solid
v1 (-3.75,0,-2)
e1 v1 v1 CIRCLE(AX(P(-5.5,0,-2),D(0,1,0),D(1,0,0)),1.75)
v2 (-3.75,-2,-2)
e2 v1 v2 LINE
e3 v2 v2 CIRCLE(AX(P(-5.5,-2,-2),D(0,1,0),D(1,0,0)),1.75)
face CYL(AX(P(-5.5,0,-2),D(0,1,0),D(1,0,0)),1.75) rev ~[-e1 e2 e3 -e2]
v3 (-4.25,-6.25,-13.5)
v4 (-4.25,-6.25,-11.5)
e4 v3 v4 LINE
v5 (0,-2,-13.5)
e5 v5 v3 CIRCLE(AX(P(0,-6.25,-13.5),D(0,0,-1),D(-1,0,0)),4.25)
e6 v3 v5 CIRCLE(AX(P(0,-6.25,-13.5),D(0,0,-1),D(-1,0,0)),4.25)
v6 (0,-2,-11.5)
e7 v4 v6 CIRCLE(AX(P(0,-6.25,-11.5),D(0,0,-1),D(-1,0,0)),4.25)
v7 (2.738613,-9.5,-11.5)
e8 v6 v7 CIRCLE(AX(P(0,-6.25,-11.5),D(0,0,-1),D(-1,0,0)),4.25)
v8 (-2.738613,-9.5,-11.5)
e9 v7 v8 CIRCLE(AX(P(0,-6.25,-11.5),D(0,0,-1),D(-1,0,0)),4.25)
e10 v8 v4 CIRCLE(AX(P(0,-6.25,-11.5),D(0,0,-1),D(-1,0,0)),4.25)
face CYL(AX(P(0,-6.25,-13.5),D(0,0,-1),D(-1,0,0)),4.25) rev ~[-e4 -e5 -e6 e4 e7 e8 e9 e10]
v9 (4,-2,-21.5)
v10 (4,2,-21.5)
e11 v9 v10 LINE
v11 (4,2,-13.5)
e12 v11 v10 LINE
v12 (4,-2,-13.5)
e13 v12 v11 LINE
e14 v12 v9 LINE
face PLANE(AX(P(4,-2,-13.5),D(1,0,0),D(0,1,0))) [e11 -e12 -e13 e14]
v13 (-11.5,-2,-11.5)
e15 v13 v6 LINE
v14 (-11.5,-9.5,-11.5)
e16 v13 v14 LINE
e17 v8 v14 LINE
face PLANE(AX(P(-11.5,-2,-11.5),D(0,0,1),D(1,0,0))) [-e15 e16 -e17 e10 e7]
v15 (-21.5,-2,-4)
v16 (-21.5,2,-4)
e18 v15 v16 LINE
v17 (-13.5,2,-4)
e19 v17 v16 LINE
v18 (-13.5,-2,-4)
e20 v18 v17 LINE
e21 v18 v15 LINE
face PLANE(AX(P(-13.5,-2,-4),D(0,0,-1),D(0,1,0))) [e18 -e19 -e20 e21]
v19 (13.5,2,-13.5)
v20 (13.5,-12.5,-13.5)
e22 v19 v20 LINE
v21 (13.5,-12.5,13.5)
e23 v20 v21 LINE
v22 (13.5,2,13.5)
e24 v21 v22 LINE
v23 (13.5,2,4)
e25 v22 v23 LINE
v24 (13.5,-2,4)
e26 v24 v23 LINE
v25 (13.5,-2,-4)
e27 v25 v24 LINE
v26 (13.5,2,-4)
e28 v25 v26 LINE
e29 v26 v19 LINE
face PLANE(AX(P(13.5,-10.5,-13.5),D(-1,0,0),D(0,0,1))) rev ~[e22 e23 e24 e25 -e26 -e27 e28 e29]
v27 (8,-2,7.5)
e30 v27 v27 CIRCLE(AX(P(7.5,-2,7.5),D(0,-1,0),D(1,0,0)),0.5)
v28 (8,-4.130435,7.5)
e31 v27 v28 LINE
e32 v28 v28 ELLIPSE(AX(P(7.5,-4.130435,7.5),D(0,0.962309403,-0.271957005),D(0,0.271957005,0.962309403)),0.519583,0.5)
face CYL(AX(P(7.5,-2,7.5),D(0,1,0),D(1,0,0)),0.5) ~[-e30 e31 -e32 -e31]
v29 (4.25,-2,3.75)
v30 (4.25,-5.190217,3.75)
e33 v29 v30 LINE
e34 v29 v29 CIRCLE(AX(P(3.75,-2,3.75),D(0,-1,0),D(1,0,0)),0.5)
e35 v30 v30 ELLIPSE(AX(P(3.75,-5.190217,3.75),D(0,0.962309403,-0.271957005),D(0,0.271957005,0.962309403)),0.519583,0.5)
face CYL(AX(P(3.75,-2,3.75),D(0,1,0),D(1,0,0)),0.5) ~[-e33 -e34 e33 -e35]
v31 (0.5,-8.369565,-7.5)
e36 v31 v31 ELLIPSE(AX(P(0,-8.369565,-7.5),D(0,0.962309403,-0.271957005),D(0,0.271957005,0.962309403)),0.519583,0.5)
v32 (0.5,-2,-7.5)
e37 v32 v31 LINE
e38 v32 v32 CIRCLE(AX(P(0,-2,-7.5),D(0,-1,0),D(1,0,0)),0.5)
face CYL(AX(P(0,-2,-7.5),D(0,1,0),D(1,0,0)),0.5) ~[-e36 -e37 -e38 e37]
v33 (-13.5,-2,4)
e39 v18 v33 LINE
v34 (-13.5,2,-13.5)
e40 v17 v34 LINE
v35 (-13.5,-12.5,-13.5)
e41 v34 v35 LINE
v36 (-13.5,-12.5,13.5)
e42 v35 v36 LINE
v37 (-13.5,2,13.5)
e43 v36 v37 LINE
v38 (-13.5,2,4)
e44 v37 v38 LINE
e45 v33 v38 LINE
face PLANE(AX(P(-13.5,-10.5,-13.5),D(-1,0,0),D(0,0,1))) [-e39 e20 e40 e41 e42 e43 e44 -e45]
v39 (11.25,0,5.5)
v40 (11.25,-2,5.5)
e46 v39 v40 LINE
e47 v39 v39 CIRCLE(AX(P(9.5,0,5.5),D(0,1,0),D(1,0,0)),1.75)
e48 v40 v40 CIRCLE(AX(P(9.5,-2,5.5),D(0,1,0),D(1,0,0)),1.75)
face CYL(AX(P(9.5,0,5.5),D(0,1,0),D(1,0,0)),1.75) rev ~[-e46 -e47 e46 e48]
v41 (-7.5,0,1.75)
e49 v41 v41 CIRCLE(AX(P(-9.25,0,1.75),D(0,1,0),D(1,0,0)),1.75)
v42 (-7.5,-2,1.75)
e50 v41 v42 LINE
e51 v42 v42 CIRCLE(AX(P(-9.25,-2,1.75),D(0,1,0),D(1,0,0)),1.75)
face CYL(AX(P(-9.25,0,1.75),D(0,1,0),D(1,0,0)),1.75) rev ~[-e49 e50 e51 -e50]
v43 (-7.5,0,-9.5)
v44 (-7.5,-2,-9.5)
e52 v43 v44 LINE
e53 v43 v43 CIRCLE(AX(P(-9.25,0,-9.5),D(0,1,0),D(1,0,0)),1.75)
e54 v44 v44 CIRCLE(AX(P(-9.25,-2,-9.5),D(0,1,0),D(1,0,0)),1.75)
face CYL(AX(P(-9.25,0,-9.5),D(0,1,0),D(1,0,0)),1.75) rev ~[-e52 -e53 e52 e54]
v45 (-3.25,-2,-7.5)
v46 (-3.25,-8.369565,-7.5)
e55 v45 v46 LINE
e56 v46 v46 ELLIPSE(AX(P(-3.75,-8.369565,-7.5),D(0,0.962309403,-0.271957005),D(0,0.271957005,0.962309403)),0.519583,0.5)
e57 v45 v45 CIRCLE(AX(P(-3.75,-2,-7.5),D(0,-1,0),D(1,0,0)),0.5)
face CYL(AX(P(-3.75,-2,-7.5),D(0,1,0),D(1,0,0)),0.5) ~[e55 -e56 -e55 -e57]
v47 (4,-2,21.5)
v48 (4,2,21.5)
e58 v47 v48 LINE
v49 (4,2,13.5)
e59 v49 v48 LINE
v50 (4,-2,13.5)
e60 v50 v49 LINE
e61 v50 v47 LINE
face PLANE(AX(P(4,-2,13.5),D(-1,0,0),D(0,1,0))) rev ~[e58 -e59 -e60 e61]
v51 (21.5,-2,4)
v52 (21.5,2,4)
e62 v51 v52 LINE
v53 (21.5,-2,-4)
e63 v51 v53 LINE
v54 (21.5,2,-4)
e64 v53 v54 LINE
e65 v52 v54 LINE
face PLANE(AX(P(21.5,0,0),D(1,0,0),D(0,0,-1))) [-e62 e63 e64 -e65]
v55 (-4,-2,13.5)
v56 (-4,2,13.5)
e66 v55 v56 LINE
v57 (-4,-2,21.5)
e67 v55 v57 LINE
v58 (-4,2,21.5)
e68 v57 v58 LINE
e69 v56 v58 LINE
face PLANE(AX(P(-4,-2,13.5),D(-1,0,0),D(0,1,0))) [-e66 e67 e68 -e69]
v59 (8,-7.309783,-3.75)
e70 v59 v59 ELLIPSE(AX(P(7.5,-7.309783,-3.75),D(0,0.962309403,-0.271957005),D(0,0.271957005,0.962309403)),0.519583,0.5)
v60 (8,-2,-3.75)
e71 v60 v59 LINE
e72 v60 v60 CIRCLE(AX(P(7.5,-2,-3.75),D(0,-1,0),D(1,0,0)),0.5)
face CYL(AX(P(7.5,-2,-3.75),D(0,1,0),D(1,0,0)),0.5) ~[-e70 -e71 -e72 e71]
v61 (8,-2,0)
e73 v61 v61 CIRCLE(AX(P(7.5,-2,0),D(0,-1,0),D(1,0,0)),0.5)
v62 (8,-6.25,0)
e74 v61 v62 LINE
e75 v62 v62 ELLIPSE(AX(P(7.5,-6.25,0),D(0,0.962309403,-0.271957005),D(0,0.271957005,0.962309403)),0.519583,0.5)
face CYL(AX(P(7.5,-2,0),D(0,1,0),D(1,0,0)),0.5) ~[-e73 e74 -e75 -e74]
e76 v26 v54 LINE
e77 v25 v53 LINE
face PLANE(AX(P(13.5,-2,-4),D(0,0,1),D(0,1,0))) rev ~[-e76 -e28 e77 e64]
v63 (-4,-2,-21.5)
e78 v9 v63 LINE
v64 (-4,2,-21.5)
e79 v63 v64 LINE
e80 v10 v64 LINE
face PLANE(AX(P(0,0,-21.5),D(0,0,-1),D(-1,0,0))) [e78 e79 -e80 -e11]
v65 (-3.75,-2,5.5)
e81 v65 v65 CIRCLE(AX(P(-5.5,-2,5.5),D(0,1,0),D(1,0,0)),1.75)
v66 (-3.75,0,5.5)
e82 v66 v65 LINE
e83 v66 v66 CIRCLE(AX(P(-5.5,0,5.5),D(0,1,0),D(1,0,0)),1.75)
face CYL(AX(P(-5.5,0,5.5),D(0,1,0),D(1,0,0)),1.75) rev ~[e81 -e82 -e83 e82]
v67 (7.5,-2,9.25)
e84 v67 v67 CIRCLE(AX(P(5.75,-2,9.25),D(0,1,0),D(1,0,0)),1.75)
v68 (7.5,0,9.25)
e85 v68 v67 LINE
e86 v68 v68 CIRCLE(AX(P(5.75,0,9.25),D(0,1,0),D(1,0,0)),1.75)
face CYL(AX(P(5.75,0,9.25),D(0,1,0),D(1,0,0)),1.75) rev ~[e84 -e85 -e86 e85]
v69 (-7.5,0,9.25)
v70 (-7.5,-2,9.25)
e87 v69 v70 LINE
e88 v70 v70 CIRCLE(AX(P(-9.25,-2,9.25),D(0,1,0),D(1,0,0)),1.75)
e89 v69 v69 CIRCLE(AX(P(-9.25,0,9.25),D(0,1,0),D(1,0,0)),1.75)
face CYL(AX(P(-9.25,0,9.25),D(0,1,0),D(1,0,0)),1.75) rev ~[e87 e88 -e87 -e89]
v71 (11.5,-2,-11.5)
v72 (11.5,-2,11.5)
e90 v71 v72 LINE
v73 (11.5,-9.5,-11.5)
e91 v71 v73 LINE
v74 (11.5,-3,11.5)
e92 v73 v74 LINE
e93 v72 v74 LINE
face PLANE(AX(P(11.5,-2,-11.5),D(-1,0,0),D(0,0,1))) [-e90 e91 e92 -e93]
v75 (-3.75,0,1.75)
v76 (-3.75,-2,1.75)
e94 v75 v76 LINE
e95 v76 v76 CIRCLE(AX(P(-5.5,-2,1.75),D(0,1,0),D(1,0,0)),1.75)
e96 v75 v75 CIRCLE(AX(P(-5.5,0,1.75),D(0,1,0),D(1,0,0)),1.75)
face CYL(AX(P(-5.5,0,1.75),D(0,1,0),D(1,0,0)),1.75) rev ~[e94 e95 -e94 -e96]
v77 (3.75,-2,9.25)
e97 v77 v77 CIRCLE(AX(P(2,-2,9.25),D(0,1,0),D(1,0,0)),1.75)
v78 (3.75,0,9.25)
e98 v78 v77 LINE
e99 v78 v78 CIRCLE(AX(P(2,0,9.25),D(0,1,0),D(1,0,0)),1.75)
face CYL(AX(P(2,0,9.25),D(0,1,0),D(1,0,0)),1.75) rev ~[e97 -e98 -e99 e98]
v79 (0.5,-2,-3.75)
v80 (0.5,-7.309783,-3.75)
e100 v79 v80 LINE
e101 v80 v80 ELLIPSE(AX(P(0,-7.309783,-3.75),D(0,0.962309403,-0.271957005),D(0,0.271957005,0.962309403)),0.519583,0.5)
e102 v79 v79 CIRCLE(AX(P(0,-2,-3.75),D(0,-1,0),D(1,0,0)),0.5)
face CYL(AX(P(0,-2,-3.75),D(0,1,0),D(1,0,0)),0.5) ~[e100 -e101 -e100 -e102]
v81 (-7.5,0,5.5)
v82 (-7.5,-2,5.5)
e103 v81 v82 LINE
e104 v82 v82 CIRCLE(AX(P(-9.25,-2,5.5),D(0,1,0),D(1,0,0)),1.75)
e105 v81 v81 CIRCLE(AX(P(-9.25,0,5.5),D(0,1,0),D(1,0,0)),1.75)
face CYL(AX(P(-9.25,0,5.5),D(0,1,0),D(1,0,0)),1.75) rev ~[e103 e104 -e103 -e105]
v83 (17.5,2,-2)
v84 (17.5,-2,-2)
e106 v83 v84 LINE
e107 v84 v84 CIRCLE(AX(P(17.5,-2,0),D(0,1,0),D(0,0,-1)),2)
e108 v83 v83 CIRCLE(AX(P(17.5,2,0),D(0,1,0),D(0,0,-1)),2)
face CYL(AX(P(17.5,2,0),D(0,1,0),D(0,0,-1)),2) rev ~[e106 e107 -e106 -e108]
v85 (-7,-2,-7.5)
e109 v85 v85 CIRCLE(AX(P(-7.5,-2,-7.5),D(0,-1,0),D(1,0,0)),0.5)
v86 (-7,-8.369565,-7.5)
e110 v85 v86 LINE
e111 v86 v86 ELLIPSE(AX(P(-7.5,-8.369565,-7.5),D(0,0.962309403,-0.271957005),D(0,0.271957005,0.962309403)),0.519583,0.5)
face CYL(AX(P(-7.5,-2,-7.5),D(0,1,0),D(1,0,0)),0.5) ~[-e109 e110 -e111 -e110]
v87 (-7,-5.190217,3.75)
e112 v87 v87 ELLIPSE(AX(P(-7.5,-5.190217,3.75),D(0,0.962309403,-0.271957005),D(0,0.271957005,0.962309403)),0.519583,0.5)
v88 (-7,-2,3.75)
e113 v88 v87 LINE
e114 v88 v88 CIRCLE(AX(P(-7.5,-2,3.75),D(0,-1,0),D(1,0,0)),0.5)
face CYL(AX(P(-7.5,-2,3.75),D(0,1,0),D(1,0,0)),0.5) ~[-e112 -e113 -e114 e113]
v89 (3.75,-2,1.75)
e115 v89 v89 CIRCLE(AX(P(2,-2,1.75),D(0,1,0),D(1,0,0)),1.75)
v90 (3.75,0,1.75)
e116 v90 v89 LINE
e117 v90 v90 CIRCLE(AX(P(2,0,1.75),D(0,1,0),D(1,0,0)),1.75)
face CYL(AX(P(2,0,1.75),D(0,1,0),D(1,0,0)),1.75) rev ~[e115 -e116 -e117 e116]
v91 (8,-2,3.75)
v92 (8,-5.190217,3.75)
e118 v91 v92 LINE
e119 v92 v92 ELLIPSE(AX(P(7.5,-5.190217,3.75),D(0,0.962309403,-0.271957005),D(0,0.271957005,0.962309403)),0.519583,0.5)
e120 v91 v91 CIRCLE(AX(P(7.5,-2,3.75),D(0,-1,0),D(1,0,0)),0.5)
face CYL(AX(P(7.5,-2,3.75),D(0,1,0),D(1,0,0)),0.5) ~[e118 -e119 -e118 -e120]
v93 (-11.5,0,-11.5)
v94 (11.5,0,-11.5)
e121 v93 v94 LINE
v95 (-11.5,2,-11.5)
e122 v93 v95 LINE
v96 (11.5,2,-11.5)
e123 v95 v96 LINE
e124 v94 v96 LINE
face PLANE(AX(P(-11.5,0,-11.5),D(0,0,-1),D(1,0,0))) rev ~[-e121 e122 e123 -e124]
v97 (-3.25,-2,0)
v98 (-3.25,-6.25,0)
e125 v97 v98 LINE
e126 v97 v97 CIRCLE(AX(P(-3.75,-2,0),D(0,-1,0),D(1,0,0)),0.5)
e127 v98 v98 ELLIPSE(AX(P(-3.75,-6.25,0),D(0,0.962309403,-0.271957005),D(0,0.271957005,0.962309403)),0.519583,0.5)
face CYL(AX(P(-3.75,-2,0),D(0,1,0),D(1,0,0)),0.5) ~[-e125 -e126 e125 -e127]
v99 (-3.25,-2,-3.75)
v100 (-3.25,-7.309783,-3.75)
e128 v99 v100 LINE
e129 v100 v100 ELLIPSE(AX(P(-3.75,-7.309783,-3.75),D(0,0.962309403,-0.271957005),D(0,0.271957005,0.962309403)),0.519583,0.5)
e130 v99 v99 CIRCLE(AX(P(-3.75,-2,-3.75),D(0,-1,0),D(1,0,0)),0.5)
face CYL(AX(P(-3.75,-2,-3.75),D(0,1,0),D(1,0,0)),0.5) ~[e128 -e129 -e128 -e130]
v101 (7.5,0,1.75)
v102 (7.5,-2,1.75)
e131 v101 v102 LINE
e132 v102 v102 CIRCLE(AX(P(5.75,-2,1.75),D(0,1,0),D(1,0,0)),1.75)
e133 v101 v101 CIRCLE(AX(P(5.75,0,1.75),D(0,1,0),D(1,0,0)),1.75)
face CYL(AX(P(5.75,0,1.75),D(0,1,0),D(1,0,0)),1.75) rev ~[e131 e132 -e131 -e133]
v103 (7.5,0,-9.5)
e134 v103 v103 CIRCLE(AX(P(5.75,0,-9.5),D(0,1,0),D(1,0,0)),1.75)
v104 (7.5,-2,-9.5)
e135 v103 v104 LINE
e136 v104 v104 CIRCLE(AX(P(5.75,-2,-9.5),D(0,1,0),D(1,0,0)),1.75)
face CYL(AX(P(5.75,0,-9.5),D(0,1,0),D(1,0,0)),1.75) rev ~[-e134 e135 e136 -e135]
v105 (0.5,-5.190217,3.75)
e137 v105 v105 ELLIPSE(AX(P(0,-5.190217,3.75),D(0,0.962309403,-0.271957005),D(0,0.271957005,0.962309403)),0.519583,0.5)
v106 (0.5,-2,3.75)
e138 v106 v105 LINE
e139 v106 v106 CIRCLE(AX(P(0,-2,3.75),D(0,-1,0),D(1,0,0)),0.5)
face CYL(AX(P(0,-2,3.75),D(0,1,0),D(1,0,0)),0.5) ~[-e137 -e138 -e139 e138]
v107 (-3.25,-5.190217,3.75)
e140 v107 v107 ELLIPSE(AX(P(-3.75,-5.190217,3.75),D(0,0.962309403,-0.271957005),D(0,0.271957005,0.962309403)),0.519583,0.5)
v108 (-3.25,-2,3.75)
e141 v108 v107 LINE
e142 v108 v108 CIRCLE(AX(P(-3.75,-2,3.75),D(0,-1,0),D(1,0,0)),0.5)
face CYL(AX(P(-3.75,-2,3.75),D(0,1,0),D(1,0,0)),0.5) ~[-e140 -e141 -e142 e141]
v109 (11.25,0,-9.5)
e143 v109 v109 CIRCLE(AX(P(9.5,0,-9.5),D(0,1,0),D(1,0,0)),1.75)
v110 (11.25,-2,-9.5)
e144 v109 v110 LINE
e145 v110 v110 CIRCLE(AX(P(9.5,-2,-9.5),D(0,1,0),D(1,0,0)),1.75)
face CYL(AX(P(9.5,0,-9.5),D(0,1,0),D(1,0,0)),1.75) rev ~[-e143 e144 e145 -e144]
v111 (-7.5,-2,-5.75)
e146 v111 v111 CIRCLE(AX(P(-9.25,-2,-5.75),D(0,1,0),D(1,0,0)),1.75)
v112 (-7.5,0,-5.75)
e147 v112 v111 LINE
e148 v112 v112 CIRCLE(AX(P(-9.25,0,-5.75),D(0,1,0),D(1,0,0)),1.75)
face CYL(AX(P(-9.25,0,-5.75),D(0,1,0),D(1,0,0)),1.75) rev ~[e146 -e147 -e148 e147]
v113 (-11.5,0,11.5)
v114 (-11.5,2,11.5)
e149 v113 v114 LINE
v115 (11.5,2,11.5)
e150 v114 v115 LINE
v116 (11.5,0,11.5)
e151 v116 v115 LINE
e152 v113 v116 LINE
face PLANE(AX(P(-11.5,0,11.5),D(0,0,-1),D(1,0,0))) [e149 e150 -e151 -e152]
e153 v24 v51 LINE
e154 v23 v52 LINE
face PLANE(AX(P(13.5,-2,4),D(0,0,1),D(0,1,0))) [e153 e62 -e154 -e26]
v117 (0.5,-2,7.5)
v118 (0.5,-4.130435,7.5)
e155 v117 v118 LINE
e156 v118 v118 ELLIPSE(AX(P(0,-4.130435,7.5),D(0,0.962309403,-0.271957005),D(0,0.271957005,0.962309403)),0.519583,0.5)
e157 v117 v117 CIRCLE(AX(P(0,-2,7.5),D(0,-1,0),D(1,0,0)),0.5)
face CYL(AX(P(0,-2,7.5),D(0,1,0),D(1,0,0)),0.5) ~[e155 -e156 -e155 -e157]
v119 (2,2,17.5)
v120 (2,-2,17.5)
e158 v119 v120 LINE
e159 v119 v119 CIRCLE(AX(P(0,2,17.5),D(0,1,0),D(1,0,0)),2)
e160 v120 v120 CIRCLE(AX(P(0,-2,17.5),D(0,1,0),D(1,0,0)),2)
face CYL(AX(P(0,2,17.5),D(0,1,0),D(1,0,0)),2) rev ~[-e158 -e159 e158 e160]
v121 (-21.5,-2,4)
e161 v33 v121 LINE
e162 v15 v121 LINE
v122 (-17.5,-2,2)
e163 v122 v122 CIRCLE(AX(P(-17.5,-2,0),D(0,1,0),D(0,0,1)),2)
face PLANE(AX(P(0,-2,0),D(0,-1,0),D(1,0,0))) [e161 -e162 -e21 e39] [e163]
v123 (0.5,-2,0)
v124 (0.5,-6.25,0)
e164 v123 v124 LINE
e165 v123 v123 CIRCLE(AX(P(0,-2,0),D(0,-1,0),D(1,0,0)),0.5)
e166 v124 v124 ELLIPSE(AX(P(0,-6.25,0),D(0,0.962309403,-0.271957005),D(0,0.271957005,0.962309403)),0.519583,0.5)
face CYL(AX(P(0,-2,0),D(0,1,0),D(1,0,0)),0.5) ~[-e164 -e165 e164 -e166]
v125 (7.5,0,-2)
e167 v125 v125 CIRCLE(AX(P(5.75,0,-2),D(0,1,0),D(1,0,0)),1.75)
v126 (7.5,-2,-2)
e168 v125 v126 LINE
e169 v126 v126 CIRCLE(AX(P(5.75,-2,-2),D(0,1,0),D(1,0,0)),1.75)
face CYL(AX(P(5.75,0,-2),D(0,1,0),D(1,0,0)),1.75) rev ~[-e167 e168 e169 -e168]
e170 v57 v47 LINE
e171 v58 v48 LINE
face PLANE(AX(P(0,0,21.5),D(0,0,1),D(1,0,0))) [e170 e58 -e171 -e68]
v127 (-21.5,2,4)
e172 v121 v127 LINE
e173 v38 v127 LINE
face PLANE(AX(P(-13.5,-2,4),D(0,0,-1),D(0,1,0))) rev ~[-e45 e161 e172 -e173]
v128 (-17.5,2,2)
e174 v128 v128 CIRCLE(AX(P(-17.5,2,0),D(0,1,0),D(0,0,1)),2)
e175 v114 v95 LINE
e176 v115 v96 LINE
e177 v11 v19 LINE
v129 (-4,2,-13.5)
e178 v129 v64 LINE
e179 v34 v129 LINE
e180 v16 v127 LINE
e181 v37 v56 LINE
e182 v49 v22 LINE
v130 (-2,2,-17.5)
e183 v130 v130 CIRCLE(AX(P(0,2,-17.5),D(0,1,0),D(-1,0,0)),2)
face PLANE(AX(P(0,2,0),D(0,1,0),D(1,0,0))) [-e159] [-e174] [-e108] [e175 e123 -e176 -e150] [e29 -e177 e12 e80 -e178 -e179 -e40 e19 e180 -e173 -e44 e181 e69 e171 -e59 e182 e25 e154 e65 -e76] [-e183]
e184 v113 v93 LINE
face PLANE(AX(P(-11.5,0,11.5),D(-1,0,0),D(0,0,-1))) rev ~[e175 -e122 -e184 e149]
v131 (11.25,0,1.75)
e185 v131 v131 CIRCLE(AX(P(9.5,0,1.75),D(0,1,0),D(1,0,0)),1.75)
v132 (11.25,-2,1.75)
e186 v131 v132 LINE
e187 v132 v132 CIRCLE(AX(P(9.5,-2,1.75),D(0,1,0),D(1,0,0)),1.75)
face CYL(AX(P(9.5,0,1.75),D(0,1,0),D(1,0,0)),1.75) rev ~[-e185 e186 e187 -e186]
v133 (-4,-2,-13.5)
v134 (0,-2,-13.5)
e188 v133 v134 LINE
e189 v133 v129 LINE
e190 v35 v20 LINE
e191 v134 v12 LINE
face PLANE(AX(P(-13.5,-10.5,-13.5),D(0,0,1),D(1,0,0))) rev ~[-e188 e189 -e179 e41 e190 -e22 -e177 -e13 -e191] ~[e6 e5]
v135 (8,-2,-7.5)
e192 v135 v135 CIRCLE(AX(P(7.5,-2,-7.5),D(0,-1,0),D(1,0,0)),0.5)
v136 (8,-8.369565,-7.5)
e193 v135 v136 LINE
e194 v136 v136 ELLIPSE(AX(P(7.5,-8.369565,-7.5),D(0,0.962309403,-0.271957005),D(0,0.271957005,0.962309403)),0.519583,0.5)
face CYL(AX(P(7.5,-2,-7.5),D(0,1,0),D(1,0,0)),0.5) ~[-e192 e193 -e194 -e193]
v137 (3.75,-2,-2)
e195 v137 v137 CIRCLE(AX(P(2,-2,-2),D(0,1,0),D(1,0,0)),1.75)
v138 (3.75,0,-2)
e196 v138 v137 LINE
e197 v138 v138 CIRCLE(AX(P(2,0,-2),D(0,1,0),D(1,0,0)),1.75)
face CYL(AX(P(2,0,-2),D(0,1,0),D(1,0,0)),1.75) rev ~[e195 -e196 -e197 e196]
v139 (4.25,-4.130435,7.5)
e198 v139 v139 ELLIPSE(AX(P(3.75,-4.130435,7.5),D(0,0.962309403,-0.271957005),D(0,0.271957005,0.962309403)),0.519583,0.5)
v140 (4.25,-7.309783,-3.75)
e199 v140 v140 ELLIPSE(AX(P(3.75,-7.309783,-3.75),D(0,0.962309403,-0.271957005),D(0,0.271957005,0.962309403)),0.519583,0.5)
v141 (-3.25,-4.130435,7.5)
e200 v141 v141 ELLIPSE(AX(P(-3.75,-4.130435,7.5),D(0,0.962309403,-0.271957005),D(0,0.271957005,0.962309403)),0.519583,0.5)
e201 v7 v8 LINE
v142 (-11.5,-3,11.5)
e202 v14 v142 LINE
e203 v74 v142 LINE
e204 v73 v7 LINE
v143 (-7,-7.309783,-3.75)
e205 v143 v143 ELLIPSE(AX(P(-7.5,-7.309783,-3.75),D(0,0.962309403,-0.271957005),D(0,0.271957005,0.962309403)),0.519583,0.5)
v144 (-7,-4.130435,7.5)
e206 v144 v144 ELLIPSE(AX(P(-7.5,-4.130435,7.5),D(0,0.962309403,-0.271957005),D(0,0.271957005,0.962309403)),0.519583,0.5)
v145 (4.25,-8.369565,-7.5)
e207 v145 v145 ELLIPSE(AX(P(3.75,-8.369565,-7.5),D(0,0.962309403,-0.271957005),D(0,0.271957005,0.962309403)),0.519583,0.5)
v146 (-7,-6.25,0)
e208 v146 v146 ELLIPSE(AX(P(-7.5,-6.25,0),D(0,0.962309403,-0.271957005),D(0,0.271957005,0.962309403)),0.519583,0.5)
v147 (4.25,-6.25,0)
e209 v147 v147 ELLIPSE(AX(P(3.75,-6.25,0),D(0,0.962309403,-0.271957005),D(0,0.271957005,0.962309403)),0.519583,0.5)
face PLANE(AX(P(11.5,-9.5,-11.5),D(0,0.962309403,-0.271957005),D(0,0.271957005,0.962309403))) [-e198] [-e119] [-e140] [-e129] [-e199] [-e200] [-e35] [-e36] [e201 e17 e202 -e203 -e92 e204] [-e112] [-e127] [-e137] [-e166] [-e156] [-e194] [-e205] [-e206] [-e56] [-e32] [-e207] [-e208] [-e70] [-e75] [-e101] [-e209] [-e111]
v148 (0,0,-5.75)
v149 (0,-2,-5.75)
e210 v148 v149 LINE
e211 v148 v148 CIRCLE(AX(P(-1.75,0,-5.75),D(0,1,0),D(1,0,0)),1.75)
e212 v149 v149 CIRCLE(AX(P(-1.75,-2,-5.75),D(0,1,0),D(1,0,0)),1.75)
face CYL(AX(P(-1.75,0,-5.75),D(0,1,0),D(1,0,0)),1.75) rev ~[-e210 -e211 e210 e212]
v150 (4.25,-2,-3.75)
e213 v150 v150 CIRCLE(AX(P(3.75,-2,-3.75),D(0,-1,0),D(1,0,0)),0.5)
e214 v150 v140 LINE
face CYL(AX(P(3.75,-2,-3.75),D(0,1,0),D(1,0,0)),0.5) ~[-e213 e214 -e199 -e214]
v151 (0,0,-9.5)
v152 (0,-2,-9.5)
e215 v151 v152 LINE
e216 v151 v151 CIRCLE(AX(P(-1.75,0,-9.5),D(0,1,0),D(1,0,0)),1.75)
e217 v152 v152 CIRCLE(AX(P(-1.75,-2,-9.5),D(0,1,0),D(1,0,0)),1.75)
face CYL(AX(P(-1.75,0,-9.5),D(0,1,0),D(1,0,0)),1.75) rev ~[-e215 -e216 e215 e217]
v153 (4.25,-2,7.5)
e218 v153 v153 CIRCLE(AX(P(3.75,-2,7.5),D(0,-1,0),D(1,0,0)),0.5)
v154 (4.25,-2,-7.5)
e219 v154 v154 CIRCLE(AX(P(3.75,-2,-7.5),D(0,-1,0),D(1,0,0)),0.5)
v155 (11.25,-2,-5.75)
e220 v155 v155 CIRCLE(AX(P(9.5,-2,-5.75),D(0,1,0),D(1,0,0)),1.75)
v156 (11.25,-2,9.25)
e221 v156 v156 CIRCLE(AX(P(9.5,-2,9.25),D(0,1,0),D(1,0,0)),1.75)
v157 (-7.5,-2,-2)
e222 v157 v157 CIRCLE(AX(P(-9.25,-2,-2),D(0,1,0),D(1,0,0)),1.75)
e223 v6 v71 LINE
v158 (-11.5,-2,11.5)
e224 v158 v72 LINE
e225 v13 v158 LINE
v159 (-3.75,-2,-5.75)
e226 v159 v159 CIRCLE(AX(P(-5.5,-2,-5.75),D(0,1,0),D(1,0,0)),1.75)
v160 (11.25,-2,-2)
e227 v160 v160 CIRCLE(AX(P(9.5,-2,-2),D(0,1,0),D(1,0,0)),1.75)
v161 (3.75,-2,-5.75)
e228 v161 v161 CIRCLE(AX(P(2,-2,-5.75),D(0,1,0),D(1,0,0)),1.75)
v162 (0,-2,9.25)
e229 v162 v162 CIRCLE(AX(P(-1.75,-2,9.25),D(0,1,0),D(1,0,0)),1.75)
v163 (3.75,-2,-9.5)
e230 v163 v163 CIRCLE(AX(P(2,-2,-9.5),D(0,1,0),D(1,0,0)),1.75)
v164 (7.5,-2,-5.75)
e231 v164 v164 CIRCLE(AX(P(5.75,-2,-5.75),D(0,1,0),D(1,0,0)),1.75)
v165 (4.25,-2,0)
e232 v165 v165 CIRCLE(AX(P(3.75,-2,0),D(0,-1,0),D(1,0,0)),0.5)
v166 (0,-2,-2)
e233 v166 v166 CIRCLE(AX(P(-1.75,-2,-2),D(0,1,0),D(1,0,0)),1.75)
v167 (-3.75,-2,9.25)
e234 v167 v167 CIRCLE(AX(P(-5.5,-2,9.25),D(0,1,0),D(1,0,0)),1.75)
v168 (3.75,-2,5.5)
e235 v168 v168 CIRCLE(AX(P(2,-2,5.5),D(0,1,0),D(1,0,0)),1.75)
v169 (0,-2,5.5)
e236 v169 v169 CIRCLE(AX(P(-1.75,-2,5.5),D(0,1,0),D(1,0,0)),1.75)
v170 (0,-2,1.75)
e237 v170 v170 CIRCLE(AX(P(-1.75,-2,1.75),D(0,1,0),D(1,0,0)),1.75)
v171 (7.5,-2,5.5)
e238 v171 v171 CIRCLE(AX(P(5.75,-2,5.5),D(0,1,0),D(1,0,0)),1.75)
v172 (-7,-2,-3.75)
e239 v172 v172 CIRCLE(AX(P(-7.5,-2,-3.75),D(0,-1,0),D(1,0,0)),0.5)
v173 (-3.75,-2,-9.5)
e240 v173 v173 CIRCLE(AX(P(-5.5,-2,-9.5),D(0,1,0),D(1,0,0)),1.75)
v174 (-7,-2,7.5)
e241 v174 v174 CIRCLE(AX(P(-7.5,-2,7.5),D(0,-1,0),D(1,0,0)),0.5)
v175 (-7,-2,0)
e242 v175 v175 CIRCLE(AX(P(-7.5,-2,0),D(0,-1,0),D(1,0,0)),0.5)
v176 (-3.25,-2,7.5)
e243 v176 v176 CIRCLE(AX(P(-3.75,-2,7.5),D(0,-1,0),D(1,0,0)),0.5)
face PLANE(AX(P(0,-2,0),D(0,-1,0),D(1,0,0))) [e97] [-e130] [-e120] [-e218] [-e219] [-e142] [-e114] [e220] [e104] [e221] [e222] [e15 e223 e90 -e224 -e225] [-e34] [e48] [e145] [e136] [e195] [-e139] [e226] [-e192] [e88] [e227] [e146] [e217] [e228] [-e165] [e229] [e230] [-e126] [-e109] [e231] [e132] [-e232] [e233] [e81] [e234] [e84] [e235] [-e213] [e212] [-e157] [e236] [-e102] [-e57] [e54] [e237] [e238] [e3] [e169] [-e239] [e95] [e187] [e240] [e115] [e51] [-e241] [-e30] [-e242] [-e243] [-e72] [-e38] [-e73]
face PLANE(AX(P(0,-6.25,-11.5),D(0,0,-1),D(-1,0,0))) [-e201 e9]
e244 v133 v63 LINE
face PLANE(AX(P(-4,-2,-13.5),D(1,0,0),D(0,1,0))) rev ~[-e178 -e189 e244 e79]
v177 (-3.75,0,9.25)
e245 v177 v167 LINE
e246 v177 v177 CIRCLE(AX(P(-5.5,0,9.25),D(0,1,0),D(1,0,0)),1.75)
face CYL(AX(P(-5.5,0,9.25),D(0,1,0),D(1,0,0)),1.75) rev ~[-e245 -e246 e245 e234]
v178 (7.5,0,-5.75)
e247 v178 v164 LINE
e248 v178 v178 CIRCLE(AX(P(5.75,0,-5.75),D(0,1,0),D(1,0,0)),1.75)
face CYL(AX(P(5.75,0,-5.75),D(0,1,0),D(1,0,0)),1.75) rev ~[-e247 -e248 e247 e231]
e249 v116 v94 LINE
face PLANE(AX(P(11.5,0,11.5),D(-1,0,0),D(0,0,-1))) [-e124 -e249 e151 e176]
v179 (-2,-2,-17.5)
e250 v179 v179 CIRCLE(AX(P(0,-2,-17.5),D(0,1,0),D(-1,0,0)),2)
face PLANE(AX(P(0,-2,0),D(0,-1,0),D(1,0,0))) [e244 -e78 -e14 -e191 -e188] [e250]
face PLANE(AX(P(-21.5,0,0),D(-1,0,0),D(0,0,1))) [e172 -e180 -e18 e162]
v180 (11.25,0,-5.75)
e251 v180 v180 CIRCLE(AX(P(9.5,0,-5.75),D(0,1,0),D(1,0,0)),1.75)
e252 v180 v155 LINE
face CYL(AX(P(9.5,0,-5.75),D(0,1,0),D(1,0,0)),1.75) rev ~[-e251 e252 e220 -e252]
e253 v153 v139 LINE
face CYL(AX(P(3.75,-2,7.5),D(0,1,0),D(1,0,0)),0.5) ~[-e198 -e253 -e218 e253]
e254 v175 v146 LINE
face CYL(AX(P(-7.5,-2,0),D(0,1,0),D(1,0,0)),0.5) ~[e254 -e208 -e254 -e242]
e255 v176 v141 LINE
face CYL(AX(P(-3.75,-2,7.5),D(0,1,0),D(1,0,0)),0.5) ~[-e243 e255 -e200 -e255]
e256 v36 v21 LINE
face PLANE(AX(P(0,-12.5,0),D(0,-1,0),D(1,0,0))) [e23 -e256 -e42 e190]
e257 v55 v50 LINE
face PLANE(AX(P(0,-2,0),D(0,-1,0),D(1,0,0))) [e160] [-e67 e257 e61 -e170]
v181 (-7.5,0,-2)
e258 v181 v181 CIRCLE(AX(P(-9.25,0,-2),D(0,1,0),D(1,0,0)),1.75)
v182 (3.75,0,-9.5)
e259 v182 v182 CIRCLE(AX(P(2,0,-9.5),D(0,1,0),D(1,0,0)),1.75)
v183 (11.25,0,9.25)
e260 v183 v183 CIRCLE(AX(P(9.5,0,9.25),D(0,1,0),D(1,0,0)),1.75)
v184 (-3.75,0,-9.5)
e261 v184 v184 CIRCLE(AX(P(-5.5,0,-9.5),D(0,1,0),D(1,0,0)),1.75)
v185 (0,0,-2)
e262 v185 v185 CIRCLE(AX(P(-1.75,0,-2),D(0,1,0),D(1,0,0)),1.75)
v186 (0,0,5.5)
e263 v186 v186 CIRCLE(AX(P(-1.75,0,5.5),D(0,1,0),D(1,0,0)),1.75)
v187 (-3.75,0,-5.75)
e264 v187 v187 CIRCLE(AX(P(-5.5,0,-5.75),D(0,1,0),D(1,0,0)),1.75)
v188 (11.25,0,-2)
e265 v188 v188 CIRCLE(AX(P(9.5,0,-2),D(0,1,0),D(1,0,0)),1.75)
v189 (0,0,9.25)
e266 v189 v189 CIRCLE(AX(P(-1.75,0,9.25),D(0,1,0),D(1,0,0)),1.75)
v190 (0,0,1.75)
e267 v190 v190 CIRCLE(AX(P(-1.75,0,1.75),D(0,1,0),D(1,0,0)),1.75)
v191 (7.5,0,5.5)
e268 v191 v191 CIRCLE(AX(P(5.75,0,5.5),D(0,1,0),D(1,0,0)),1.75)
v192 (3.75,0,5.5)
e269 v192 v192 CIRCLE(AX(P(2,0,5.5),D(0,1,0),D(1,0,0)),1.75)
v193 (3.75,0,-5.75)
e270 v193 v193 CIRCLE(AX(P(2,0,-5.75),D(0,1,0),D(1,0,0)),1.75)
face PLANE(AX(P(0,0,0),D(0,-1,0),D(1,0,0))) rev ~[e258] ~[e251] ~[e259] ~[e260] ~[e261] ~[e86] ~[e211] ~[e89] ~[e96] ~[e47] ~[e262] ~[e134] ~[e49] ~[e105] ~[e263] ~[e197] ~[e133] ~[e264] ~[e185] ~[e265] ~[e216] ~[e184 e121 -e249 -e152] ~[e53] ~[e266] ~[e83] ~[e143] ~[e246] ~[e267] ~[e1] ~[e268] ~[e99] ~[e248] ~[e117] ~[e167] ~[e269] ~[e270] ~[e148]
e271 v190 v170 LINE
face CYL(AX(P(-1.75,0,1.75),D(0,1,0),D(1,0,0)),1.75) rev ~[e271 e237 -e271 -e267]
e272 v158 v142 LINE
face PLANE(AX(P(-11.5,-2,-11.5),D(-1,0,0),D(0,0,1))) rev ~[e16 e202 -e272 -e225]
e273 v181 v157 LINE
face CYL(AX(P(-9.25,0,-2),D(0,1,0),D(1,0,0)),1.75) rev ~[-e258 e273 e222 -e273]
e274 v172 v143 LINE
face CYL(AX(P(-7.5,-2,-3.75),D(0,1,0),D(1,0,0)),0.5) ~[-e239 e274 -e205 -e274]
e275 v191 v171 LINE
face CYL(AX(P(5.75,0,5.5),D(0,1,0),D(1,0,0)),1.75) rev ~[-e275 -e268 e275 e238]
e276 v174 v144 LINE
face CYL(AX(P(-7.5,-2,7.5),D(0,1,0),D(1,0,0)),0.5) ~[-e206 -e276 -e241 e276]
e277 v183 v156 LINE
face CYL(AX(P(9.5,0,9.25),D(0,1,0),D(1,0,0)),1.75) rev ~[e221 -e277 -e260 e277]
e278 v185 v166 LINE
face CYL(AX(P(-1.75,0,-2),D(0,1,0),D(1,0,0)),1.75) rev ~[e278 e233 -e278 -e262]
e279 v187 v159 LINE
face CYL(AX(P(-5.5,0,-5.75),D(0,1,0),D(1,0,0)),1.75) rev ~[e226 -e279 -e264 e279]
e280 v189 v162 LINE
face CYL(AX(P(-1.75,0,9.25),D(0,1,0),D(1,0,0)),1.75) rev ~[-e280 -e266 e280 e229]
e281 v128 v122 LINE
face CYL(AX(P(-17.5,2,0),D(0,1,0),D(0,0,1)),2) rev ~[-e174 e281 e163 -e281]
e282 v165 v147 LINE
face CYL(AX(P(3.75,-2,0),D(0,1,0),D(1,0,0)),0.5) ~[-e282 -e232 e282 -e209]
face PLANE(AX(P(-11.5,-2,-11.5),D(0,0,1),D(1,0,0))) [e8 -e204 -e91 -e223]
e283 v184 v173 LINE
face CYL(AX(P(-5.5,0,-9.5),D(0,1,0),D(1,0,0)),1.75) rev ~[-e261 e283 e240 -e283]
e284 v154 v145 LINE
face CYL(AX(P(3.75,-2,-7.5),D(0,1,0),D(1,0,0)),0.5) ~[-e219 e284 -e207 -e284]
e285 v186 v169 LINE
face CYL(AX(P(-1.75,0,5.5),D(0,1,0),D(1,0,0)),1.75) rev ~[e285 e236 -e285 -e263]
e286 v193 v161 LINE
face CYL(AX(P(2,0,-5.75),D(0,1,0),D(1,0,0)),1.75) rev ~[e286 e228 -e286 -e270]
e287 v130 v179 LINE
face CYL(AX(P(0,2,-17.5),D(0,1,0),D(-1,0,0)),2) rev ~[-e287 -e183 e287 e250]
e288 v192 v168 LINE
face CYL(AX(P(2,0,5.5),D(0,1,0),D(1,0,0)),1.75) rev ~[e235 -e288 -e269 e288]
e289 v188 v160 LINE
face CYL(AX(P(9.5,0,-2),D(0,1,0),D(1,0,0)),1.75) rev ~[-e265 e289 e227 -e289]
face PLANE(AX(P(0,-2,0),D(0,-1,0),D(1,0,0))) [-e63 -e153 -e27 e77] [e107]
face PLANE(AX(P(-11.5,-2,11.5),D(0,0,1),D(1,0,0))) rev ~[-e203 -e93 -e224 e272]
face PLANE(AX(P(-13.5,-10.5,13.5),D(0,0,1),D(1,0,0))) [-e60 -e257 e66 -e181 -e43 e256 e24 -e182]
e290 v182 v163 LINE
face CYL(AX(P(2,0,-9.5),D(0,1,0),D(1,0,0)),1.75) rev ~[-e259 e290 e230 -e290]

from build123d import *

# Parameters (mm, degrees)
SKETCH1_W            = 27
SKETCH1_H            = 27
SKETCH1_W_2          = 23
SKETCH1_H_2          = 23
BOSS_EXTRUDE1_DEPTH  = 2
SKETCH2_W            = 27
SKETCH2_H            = 27
BOSS_EXTRUDE2_DEPTH  = 2
SKETCH12_W           = 8
SKETCH12_H           = 4
BOSS_EXTRUDE9_DEPTH  = 8
CIRPATTERN1_COUNT    = 4
SKETCH20_R           = 2
CUT_EXTRUDE11_DEPTH  = 4
CIRPATTERN2_COUNT    = 4
SKETCH13_R           = 1.75
CUT_EXTRUDE4_DEPTH   = 2
LPATTERN3_COUNT      = 6
LPATTERN3_PITCH      = 3.75
LPATTERN3_COUNT_DIR2 = 6
LPATTERN3_PITCH_DIR2 = 3.75
SKETCH14_W           = 27
SKETCH14_H           = 27
SKETCH14_W_2         = 23
SKETCH14_H_2         = 23
BOSS_EXTRUDE10_DEPTH = 8.5
BOSS_EXTRUDE11_DEPTH = 23
SKETCH18_W           = 27
SKETCH18_H           = 27
BOSS_EXTRUDE12_DEPTH = 2
SKETCH17_R           = 4.25
CUT_EXTRUDE10_DEPTH  = 2
SKETCH19_R           = 0.5
BOSS_EXTRUDE13_DEPTH = 6.51087


with BuildPart() as part:
    # Sketch1 → Boss-Extrude1 (new body)
    with BuildSketch(Plane(origin=(0, 0, 0), x_dir=(1, 0, 0), z_dir=(0, 1, 0))):
        Rectangle(SKETCH1_W, SKETCH1_H)
        Rectangle(SKETCH1_W_2, SKETCH1_H_2, mode=Mode.SUBTRACT)
    extrude(amount=BOSS_EXTRUDE1_DEPTH)

    # Sketch2 → Boss-Extrude2 (add)
    with BuildSketch(Plane.XZ):
        Rectangle(SKETCH2_W, SKETCH2_H)
    extrude(amount=BOSS_EXTRUDE2_DEPTH)

    # Sketch12 → Boss-Extrude9 (add)
    with BuildSketch(Plane.ZY.offset(13.5)):
        Rectangle(SKETCH12_W, SKETCH12_H)
    boss_extrude9 = extrude(amount=BOSS_EXTRUDE9_DEPTH)

    # CirPattern1: Boss-Extrude9 ×4 about axis
    cirpattern1_axis = Axis((0, 0, 0), (0, 1, 0))
    for i in range(1, CIRPATTERN1_COUNT):
        add(boss_extrude9.rotate(cirpattern1_axis, i * 360 / CIRPATTERN1_COUNT))

    # Sketch20 → Cut-Extrude11 (cut)
    with BuildSketch(Plane(origin=(0, 2, 0), x_dir=(1, 0, 0), z_dir=(0, 1, 0))):
        with Locations((0, -17.5)):
            Circle(SKETCH20_R)
    cut_extrude11 = extrude(amount=-CUT_EXTRUDE11_DEPTH, mode=Mode.SUBTRACT)

    # CirPattern2: Cut-Extrude11 ×4 about axis
    cirpattern2_axis = Axis((0, 0, 0), (0, 1, 0))
    for i in range(1, CIRPATTERN2_COUNT):
        add(cut_extrude11.rotate(cirpattern2_axis, i * 360 / CIRPATTERN2_COUNT), mode=Mode.SUBTRACT)

    # Sketch13 → Cut-Extrude4 (cut)
    with BuildSketch(Plane(origin=(0, 0, 0), x_dir=(1, 0, 0), z_dir=(0, 1, 0))):
        with Locations((9.5, 9.5)):
            Circle(SKETCH13_R)
    cut_extrude4 = extrude(amount=-CUT_EXTRUDE4_DEPTH, mode=Mode.SUBTRACT)

    # LPattern3: Cut-Extrude4 6 × 6
    with Locations(*[(-j * LPATTERN3_PITCH_DIR2, 0, i * LPATTERN3_PITCH) for i in range(LPATTERN3_COUNT) for j in range(LPATTERN3_COUNT_DIR2) if (i, j) != (0, 0)]):
        add(cut_extrude4, mode=Mode.SUBTRACT)

    # Sketch14 → Boss-Extrude10 (add)
    with BuildSketch(Plane.XZ.offset(2)):
        Rectangle(SKETCH14_W, SKETCH14_H)
        Rectangle(SKETCH14_W_2, SKETCH14_H_2, mode=Mode.SUBTRACT)
    extrude(amount=BOSS_EXTRUDE10_DEPTH)

    # Sketch16 → Boss-Extrude11 (add)
    with BuildSketch(Plane.ZY.offset(-11.5)):
        Polygon((11.5, -10.5), (-11.5, -10.5), (-11.5, -9.5), (11.5, -3), align=None)
    extrude(amount=BOSS_EXTRUDE11_DEPTH)

    # Sketch18 → Boss-Extrude12 (add)
    with BuildSketch(Plane.XZ.offset(10.5)):
        Rectangle(SKETCH18_W, SKETCH18_H)
    extrude(amount=BOSS_EXTRUDE12_DEPTH)

    # Sketch17 → Cut-Extrude10 (cut)
    with BuildSketch(Plane(origin=(0, 0, -13.5), x_dir=(-1, 0, 0), z_dir=(0, 0, -1))):
        with Locations((0, -6.25)):
            Circle(SKETCH17_R)
    extrude(amount=-CUT_EXTRUDE10_DEPTH, mode=Mode.SUBTRACT)

    # Sketch19 → Boss-Extrude13 (add)
    with BuildSketch(Plane.XZ.offset(2)):
        Circle(SKETCH19_R)
        with Locations((3.75, 0)):
            Circle(SKETCH19_R)
        with Locations((0, 3.75)):
            Circle(SKETCH19_R)
        with Locations((-3.75, 3.75)):
            Circle(SKETCH19_R)
        with Locations((3.75, 3.75)):
            Circle(SKETCH19_R)
        with Locations((7.5, 3.75)):
            Circle(SKETCH19_R)
        with Locations((7.5, 7.5)):
            Circle(SKETCH19_R)
        with Locations((3.75, 7.5)):
            Circle(SKETCH19_R)
        with Locations((0, 7.5)):
            Circle(SKETCH19_R)
        with Locations((-3.75, 7.5)):
            Circle(SKETCH19_R)
        with Locations((-7.5, 7.5)):
            Circle(SKETCH19_R)
        with Locations((-7.5, 3.75)):
            Circle(SKETCH19_R)
        with Locations((-7.5, 0)):
            Circle(SKETCH19_R)
        with Locations((-3.75, 0)):
            Circle(SKETCH19_R)
        with Locations((-3.75, -3.75)):
            Circle(SKETCH19_R)
        with Locations((-7.5, -3.75)):
            Circle(SKETCH19_R)
        with Locations((-7.5, -7.5)):
            Circle(SKETCH19_R)
        with Locations((-3.75, -7.5)):
            Circle(SKETCH19_R)
        with Locations((0, -7.5)):
            Circle(SKETCH19_R)
        with Locations((0, -3.75)):
            Circle(SKETCH19_R)
        with Locations((3.75, -3.75)):
            Circle(SKETCH19_R)
        with Locations((3.75, -7.5)):
            Circle(SKETCH19_R)
        with Locations((7.5, -7.5)):
            Circle(SKETCH19_R)
        with Locations((7.5, -3.75)):
            Circle(SKETCH19_R)
        with Locations((7.5, 0)):
            Circle(SKETCH19_R)
    extrude(amount=BOSS_EXTRUDE13_DEPTH)


solid = part.part
